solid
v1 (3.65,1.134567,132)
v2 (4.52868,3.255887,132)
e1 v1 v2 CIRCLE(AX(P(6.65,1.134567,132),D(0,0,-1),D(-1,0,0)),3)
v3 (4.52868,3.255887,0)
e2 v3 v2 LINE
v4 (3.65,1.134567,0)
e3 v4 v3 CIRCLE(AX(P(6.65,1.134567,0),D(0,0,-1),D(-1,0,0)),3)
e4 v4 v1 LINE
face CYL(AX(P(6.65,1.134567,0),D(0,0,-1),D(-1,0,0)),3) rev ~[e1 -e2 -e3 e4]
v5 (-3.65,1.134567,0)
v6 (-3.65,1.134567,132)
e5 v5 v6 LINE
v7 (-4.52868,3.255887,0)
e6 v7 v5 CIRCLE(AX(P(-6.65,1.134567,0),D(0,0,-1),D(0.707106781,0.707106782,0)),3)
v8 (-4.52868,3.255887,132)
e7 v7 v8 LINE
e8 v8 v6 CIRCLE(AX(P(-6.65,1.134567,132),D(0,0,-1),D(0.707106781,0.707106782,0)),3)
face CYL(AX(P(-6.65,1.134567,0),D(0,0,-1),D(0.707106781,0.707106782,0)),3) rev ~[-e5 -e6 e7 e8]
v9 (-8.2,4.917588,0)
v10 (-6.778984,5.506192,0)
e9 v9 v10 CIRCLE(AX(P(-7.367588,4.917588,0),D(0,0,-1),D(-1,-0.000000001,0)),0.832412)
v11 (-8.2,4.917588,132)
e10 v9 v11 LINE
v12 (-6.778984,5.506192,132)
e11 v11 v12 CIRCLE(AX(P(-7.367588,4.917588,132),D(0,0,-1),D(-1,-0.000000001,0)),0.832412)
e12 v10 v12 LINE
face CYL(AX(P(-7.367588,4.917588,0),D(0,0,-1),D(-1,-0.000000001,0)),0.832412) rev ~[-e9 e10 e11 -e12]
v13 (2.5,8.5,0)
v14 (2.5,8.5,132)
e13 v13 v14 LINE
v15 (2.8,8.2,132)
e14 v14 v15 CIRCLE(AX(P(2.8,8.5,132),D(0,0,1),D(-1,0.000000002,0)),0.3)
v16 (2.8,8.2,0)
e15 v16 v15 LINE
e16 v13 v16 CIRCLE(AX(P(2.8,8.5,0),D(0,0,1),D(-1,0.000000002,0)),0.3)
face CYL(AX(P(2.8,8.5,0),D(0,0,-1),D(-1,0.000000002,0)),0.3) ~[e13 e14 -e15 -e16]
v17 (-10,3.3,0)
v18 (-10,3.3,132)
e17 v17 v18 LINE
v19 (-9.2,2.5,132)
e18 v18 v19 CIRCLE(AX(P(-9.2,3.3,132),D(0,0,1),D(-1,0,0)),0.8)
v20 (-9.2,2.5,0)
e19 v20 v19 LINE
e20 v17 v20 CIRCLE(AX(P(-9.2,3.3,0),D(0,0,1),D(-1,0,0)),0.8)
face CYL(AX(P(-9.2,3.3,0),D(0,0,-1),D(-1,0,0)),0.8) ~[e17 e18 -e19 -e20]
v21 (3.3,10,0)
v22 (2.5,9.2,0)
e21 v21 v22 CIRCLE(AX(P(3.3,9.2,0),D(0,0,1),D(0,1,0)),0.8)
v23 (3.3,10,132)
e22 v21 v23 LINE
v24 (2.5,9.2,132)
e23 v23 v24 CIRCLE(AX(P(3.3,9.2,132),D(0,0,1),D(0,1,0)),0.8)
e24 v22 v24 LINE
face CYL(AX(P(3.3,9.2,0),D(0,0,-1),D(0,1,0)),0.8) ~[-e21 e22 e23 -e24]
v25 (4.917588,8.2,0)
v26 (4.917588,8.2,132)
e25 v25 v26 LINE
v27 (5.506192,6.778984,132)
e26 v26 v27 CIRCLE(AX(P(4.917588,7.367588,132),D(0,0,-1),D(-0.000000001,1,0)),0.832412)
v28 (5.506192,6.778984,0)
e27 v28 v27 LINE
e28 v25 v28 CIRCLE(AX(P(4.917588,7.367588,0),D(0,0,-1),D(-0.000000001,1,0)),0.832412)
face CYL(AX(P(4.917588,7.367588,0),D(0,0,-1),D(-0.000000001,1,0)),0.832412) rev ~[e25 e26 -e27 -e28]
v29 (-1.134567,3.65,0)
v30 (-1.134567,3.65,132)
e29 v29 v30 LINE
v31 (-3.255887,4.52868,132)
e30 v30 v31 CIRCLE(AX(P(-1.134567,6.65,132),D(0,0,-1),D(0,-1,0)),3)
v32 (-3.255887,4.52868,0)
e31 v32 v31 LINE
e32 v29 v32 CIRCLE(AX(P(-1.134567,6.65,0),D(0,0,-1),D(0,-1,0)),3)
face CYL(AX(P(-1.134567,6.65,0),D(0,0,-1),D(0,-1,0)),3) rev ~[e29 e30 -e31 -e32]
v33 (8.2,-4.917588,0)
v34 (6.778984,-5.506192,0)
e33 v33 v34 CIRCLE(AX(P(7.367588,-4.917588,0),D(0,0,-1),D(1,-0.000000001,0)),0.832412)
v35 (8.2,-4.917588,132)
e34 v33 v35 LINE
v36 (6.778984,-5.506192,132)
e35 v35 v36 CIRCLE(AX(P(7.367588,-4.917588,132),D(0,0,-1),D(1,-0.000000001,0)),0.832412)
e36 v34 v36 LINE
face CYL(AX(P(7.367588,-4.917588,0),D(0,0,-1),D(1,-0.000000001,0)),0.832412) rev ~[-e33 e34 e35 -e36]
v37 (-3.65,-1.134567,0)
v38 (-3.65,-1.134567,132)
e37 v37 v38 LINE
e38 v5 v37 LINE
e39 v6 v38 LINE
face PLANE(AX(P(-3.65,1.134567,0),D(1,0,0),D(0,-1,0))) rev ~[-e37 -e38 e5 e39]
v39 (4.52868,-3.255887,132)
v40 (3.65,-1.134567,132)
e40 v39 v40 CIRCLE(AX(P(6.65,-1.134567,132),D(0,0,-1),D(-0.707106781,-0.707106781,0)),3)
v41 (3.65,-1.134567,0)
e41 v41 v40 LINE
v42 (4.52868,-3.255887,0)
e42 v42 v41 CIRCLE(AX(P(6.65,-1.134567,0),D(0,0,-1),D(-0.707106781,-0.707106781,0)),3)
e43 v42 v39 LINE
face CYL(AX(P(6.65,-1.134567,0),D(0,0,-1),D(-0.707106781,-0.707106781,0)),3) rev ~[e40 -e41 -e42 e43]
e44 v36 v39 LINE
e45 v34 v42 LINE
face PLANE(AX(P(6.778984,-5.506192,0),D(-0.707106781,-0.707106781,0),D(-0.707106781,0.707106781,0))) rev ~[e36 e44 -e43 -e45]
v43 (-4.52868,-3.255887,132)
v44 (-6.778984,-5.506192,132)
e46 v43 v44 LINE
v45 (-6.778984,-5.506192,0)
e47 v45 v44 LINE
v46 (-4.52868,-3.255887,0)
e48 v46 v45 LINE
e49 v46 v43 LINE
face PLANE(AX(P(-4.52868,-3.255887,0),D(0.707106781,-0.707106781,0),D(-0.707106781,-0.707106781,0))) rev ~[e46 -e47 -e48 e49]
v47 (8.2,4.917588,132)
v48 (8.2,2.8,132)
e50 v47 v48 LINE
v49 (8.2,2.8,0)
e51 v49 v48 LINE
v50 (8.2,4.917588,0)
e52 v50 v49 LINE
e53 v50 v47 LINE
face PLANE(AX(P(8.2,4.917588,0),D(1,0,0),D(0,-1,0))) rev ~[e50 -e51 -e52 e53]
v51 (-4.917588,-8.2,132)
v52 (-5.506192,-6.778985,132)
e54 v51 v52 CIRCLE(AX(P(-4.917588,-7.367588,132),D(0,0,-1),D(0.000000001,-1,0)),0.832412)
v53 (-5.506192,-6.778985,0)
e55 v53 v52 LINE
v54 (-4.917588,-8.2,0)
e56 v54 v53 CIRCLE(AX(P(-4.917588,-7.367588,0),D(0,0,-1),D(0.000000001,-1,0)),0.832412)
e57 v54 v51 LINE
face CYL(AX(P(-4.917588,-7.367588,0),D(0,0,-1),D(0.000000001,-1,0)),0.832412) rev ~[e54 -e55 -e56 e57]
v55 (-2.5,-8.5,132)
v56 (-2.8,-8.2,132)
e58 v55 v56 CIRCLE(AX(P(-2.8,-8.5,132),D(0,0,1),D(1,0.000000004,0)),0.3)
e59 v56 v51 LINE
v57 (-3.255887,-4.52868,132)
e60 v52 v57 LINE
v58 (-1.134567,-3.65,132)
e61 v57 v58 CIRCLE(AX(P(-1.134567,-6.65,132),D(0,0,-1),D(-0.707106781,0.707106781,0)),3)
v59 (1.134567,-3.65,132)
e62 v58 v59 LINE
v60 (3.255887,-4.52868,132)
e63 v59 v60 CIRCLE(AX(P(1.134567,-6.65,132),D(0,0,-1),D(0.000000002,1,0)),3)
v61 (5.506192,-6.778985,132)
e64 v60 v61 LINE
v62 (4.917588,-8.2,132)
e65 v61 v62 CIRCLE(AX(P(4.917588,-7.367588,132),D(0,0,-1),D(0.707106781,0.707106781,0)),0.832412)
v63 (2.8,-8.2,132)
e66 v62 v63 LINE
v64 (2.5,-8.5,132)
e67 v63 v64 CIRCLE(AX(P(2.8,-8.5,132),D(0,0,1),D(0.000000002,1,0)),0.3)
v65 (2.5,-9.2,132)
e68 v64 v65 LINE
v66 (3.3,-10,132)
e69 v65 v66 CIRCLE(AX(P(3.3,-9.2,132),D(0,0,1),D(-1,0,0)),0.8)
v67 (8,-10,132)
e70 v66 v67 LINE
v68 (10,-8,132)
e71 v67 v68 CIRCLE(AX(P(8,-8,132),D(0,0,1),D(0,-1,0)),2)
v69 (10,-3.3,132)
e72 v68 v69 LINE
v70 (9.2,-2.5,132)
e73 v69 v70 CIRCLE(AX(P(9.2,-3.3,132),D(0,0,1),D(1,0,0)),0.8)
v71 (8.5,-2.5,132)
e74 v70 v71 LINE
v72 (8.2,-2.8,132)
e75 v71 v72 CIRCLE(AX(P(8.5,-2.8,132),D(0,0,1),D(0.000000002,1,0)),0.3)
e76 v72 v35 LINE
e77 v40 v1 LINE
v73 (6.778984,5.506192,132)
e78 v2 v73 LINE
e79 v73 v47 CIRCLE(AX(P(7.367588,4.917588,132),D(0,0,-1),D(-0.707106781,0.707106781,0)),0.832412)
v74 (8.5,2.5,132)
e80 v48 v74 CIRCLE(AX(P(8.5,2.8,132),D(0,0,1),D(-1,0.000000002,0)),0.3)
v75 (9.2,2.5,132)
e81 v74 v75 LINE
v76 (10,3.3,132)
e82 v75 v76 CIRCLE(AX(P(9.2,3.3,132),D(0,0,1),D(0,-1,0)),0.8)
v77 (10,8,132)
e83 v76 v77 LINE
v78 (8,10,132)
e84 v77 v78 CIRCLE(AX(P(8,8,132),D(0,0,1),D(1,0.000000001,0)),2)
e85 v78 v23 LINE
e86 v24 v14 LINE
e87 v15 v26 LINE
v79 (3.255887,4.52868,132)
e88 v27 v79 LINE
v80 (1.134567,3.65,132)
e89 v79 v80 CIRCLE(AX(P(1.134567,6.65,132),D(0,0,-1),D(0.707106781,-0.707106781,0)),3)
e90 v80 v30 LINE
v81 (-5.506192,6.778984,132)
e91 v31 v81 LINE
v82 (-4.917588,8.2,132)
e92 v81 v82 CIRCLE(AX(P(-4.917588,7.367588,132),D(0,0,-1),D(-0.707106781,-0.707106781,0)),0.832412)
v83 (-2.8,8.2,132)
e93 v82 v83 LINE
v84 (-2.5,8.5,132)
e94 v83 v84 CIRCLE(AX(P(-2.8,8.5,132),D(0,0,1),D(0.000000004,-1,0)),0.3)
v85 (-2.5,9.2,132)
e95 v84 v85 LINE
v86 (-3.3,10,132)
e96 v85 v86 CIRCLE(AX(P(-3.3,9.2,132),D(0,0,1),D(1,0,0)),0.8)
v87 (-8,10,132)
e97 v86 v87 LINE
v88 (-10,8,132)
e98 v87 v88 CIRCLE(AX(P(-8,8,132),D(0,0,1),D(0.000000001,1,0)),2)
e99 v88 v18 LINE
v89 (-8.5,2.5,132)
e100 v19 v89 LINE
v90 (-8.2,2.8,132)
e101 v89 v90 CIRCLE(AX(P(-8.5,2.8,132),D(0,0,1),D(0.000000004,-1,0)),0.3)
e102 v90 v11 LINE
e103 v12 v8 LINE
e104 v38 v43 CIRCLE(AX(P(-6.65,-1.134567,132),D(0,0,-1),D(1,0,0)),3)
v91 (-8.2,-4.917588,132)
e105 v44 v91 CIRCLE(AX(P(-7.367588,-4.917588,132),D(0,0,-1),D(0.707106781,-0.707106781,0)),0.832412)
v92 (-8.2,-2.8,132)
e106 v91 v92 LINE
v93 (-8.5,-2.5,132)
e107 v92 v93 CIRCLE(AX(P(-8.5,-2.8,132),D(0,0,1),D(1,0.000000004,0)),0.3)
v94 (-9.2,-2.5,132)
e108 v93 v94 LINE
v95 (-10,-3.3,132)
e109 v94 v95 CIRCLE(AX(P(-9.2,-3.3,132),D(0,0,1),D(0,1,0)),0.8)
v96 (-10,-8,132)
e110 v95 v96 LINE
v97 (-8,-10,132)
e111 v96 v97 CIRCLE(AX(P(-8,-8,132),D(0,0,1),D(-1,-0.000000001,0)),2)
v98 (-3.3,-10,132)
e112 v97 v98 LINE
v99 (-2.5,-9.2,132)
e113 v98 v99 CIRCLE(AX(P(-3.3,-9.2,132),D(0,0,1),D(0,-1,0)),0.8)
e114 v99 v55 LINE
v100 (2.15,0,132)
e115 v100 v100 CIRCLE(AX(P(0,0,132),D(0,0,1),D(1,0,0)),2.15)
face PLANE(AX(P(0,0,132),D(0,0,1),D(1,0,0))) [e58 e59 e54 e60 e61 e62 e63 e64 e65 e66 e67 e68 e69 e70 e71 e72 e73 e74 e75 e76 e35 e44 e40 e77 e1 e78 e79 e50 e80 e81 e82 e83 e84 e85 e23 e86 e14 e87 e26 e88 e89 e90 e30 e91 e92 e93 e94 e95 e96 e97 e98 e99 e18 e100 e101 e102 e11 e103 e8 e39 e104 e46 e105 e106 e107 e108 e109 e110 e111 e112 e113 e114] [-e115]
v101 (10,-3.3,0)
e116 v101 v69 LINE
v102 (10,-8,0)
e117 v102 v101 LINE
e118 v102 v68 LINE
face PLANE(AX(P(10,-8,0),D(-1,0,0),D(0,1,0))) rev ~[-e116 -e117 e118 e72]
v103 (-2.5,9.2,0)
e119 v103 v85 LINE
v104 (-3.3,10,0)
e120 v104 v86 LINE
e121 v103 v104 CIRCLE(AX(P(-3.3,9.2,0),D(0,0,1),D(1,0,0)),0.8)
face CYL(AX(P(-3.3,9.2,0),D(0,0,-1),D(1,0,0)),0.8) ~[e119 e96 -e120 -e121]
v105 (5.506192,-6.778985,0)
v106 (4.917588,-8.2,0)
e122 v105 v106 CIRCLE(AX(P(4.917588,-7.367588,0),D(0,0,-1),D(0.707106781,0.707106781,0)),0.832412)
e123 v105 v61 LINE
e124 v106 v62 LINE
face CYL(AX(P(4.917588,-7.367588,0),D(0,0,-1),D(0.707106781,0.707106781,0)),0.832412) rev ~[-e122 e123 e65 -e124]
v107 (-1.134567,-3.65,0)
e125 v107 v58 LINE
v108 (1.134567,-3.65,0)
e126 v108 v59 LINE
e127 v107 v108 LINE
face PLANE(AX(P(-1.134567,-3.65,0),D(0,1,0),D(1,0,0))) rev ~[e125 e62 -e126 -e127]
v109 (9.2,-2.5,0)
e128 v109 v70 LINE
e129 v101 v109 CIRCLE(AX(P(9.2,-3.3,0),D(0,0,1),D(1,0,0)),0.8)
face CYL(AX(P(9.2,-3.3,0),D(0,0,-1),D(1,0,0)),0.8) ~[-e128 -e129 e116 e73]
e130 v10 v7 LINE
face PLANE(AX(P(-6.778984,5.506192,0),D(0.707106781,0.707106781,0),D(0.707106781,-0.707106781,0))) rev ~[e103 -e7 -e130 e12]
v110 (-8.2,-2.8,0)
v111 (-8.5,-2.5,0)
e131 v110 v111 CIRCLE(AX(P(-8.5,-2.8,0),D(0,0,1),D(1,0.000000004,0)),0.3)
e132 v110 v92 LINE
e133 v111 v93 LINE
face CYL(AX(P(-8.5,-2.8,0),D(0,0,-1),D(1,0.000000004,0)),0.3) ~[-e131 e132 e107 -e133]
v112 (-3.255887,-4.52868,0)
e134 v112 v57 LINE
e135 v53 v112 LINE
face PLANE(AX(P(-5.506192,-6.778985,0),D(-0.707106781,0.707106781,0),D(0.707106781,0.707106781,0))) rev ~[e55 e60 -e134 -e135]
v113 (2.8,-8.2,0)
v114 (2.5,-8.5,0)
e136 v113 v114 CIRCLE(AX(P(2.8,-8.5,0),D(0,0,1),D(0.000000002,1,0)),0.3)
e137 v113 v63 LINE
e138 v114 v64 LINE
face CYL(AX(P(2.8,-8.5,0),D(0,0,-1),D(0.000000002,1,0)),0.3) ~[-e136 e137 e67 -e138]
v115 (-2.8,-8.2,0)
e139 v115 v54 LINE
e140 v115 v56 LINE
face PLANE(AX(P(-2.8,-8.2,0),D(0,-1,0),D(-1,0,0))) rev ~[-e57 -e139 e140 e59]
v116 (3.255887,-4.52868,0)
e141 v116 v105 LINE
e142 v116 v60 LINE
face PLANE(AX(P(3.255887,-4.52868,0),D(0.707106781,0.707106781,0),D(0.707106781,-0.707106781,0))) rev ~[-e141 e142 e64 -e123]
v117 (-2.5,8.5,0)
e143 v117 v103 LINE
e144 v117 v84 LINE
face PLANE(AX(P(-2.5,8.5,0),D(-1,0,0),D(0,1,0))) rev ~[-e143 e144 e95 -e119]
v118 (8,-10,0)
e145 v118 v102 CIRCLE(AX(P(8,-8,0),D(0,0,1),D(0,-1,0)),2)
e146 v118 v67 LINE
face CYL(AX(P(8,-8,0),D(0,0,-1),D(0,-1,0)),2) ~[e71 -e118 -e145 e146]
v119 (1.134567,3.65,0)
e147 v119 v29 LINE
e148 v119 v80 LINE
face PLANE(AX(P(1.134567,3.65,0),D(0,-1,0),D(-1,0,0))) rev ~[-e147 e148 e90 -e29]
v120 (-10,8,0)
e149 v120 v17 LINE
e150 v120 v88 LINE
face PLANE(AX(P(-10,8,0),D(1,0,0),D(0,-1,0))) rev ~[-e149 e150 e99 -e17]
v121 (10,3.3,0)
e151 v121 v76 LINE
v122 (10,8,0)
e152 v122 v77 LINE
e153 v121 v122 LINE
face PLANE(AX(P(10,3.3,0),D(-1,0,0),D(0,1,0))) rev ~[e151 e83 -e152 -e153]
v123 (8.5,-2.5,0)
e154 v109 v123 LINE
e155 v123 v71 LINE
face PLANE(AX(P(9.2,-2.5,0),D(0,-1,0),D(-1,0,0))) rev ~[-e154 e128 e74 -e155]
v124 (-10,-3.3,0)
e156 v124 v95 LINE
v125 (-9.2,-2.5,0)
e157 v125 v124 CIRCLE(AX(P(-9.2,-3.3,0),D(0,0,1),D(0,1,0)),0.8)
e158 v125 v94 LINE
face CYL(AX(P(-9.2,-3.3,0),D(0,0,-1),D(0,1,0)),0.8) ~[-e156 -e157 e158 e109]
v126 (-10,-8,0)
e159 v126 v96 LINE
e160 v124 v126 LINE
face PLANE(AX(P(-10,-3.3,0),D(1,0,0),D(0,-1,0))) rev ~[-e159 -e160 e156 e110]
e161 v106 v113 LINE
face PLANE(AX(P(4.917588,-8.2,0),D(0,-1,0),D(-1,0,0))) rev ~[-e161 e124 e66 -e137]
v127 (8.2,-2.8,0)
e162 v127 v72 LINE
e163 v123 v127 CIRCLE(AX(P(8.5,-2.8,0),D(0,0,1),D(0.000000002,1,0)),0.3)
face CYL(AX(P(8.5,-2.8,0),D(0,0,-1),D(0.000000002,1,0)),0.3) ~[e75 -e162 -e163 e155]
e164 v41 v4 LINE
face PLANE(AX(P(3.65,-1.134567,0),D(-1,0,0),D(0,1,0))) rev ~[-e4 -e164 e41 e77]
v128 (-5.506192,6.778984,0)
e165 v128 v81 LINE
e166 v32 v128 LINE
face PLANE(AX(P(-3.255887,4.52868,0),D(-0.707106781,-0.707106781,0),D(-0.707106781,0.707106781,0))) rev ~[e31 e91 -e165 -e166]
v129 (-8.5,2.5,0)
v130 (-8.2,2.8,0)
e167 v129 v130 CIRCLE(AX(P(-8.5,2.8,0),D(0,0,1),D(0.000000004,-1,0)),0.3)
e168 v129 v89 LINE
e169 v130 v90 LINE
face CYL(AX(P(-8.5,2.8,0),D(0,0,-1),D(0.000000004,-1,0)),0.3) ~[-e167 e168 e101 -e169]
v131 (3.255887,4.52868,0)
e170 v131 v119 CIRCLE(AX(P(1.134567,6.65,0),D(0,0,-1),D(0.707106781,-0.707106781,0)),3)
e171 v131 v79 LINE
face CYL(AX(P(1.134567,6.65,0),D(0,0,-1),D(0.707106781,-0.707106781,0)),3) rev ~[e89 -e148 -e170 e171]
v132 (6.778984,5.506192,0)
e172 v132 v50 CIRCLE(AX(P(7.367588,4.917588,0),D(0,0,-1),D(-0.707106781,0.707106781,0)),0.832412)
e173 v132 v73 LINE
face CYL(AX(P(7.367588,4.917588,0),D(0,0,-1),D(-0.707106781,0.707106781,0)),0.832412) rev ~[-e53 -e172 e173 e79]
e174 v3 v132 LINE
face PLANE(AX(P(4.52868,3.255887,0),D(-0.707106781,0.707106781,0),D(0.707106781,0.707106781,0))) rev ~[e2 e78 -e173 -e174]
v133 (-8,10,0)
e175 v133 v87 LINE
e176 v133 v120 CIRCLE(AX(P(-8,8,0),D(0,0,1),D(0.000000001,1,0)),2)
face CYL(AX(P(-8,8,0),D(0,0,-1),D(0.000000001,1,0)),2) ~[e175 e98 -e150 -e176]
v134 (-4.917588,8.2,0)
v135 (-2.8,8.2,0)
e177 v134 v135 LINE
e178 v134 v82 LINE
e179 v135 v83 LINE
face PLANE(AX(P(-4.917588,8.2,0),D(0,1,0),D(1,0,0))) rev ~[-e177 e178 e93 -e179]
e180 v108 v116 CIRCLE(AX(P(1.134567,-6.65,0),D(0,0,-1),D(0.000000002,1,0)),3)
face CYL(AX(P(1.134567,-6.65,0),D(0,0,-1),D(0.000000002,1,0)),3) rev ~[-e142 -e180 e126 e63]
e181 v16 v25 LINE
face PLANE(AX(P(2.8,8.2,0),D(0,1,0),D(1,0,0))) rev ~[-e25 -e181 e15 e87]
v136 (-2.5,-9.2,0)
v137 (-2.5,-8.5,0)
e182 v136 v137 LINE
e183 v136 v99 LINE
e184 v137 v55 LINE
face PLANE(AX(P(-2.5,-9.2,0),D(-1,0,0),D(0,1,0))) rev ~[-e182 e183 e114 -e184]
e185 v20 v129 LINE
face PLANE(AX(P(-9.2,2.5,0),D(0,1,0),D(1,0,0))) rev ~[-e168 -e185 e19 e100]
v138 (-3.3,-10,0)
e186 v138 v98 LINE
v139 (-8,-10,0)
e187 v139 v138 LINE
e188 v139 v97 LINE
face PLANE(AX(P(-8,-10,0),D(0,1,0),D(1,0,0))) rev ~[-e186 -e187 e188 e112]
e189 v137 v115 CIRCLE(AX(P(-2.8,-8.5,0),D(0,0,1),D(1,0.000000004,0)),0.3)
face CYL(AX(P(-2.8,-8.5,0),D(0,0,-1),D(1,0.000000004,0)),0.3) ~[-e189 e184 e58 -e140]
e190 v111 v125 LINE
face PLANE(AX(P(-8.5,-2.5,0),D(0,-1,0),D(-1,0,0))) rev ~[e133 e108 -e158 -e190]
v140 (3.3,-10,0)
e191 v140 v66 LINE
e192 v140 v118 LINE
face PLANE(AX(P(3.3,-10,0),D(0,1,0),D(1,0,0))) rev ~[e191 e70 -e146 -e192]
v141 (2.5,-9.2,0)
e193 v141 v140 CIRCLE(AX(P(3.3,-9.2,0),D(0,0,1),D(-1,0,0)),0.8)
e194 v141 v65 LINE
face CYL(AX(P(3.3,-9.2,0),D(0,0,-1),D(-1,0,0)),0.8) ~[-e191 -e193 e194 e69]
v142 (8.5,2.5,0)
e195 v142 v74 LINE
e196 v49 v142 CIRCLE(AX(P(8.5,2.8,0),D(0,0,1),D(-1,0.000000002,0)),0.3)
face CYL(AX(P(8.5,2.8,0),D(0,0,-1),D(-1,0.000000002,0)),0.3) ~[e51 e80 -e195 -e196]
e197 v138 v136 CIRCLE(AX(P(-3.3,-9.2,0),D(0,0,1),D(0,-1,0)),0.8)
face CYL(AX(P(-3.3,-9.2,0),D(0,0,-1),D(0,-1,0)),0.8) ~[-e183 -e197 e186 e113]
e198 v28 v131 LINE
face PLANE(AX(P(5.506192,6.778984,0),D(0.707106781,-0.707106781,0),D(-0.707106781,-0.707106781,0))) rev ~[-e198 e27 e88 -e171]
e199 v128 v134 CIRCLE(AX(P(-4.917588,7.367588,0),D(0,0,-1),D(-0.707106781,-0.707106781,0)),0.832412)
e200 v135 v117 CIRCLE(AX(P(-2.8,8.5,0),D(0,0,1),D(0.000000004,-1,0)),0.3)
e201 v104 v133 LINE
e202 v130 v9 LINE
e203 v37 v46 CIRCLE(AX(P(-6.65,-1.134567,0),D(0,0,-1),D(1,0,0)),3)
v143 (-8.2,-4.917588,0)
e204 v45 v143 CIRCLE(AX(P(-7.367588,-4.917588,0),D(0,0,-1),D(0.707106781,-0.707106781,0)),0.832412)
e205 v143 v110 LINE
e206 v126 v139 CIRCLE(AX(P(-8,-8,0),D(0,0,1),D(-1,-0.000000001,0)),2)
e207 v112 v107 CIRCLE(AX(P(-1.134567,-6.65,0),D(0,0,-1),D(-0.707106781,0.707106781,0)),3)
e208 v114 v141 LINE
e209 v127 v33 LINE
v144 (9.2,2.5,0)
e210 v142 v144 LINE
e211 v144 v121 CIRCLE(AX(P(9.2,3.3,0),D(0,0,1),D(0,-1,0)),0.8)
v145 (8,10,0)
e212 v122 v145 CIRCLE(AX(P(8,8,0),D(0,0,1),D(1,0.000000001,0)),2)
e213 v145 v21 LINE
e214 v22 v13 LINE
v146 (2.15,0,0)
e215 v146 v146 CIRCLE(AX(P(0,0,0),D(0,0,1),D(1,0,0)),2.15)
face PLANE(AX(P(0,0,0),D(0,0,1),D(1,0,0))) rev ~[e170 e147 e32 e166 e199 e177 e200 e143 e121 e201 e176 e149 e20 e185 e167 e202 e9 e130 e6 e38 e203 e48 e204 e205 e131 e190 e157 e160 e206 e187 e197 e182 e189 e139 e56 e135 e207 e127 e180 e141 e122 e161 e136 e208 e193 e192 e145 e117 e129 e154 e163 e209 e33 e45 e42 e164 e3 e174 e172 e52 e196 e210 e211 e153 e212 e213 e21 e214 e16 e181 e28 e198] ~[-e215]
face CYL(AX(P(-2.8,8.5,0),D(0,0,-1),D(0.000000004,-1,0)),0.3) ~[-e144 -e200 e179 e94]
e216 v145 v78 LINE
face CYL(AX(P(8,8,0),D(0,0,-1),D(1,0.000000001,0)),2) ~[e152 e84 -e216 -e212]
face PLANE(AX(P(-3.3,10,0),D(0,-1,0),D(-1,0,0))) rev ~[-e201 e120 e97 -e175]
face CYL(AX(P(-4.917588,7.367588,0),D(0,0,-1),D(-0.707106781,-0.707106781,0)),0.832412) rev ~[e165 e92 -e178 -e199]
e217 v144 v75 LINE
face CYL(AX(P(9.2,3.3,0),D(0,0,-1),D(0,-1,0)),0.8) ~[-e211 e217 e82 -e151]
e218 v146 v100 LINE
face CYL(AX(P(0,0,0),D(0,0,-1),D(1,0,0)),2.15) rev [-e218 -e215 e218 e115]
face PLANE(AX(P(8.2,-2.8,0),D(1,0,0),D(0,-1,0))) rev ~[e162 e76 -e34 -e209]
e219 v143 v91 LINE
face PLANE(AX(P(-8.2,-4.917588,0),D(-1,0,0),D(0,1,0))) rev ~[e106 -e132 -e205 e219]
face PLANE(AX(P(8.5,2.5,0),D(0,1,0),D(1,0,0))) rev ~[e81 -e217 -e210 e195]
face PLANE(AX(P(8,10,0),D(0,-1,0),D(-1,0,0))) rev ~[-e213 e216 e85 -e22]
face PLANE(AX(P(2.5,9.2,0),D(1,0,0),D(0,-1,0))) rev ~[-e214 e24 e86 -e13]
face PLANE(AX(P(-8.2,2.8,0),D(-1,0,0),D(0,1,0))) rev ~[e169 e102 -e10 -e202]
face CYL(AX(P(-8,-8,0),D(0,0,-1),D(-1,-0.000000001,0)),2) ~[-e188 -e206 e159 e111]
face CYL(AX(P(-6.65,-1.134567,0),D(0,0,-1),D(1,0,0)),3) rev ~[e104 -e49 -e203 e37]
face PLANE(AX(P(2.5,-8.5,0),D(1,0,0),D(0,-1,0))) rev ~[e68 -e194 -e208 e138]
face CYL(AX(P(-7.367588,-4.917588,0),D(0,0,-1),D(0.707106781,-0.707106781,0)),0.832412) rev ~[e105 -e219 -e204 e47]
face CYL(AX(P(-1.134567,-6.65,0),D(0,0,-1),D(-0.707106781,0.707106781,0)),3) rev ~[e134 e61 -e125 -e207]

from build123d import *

# Parameters (mm, degrees)
BOSS_EXTRU_1_DEPTH = 132


with BuildPart() as part:
    # Esquisse1 → Boss.-Extru.1 (new body)
    with BuildSketch(Plane.XY):
        with BuildLine():
            Line((-3.255887446, 4.528679645), (-5.506192286, 6.778984485))
            ThreePointArc((-5.506192286, 6.778984485), (-5.686636441, 7.686138511), (-4.917588391, 8.199999989))
            Line((-4.917588391, 8.199999989), (-2.799999991, 8.199999989))
            ThreePointArc((-2.799999991, 8.199999989), (-2.587867957, 8.287867955), (-2.499999991, 8.499999989))
            Line((-2.499999991, 8.499999989), (-2.499999991, 9.199999989))
            ThreePointArc((-2.499999991, 9.199999989), (-2.734314566, 9.765685414), (-3.299999991, 9.999999989))
            Line((-3.299999991, 9.999999989), (-7.999999991, 9.999999989))
            ThreePointArc((-7.999999991, 9.999999989), (-9.414213554, 9.414213552), (-9.999999991, 7.999999989))
            Line((-9.999999991, 7.999999989), (-9.999999991, 3.299999989))
            ThreePointArc((-9.999999991, 3.299999989), (-9.765685416, 2.734314564), (-9.199999991, 2.499999989))
            Line((-9.199999991, 2.499999989), (-8.499999991, 2.499999989))
            ThreePointArc((-8.499999991, 2.499999989), (-8.287867957, 2.587867955), (-8.199999991, 2.799999989))
            Line((-8.199999991, 2.799999989), (-8.199999991, 4.917588389))
            ThreePointArc((-8.199999991, 4.917588389), (-7.686138517, 5.686636433), (-6.778984497, 5.506192279))
            Line((-6.778984497, 5.506192279), (-4.528679657, 3.255887439))
            ThreePointArc((-4.528679657, 3.255887439), (-3.878361403, 2.282617393), (-3.650000001, 1.134567096))
            Line((-3.650000001, 1.134567096), (-3.650000001, -1.134567114))
            ThreePointArc((-3.650000001, -1.134567114), (-3.878361403, -2.282617409), (-4.528679656, -3.255887454))
            Line((-4.528679656, -3.255887454), (-6.778984496, -5.506192294))
            ThreePointArc((-6.778984496, -5.506192294), (-7.686138522, -5.686636449), (-8.2, -4.9175884))
            Line((-8.2, -4.9175884), (-8.2, -2.8))
            ThreePointArc((-8.2, -2.8), (-8.287867966, -2.587867966), (-8.5, -2.5))
            Line((-8.5, -2.5), (-9.2, -2.5))
            ThreePointArc((-9.2, -2.5), (-9.765685425, -2.734314575), (-10, -3.3))
            Line((-10, -3.3), (-10, -8))
            ThreePointArc((-10, -8), (-9.414213562, -9.414213562), (-8, -10))
            Line((-8, -10), (-3.3, -10))
            ThreePointArc((-3.3, -10), (-2.734314575, -9.765685425), (-2.5, -9.2))
            Line((-2.5, -9.2), (-2.5, -8.5))
            ThreePointArc((-2.5, -8.5), (-2.587867966, -8.287867966), (-2.8, -8.2))
            Line((-2.8, -8.2), (-4.9175884, -8.2))
            ThreePointArc((-4.9175884, -8.2), (-5.686636444, -7.686138526), (-5.50619229, -6.778984506))
            Line((-5.50619229, -6.778984506), (-3.25588745, -4.528679666))
            ThreePointArc((-3.25588745, -4.528679666), (-2.282617404, -3.878361412), (-1.134567106, -3.650000009))
            Line((-1.134567106, -3.650000009), (1.134567104, -3.650000009))
            ThreePointArc((1.134567104, -3.650000009), (2.282617399, -3.878361412), (3.255887444, -4.528679664))
            Line((3.255887444, -4.528679664), (5.506192284, -6.778984504))
            ThreePointArc((5.506192284, -6.778984504), (5.686636439, -7.686138531), (4.917588389, -8.200000009))
            Line((4.917588389, -8.200000009), (2.799999989, -8.200000009))
            ThreePointArc((2.799999989, -8.200000009), (2.587867955, -8.287867974), (2.499999989, -8.500000009))
            Line((2.499999989, -8.500000009), (2.499999989, -9.200000009))
            ThreePointArc((2.499999989, -9.200000009), (2.734314564, -9.765685434), (3.299999989, -10.000000009))
            Line((3.299999989, -10.000000009), (7.999999989, -10.000000009))
            ThreePointArc((7.999999989, -10.000000009), (9.414213552, -9.414213571), (9.999999989, -8.000000009))
            Line((9.999999989, -8.000000009), (9.999999989, -3.300000009))
            ThreePointArc((9.999999989, -3.300000009), (9.765685414, -2.734314584), (9.199999989, -2.500000009))
            Line((9.199999989, -2.500000009), (8.499999989, -2.500000009))
            ThreePointArc((8.499999989, -2.500000009), (8.287867955, -2.587867974), (8.199999989, -2.800000009))
            Line((8.199999989, -2.800000009), (8.199999989, -4.917588409))
            ThreePointArc((8.199999989, -4.917588409), (7.686138515, -5.686636452), (6.778984495, -5.506192299))
            Line((6.778984495, -5.506192299), (4.528679655, -3.255887459))
            ThreePointArc((4.528679655, -3.255887459), (3.878361401, -2.282617412), (3.649999999, -1.134567115))
            Line((3.649999999, -1.134567115), (3.649999999, 1.134567095))
            ThreePointArc((3.649999999, 1.134567095), (3.878361401, 2.28261739), (4.528679654, 3.255887435))
            Line((4.528679654, 3.255887435), (6.778984494, 5.506192275))
            ThreePointArc((6.778984494, 5.506192275), (7.68613852, 5.68663643), (8.199999998, 4.917588381))
            Line((8.199999998, 4.917588381), (8.199999998, 2.799999981))
            ThreePointArc((8.199999998, 2.799999981), (8.287867964, 2.587867946), (8.499999998, 2.499999981))
            Line((8.499999998, 2.499999981), (9.199999998, 2.499999981))
            ThreePointArc((9.199999998, 2.499999981), (9.765685423, 2.734314556), (9.999999998, 3.299999981))
            Line((9.999999998, 3.299999981), (9.999999998, 7.999999981))
            ThreePointArc((9.999999998, 7.999999981), (9.41421356, 9.414213543), (7.999999998, 9.999999981))
            Line((7.999999998, 9.999999981), (3.299999998, 9.999999981))
            ThreePointArc((3.299999998, 9.999999981), (2.734314573, 9.765685406), (2.499999998, 9.199999981))
            Line((2.499999998, 9.199999981), (2.499999998, 8.499999981))
            ThreePointArc((2.499999998, 8.499999981), (2.587867964, 8.287867946), (2.799999998, 8.199999981))
            Line((2.799999998, 8.199999981), (4.917588398, 8.199999981))
            ThreePointArc((4.917588398, 8.199999981), (5.686636442, 7.686138507), (5.506192288, 6.778984487))
            Line((5.506192288, 6.778984487), (3.255887448, 4.528679647))
            ThreePointArc((3.255887448, 4.528679647), (2.282617402, 3.878361393), (1.134567104, 3.64999999))
            Line((1.134567104, 3.64999999), (-1.134567106, 3.64999999))
            ThreePointArc((-1.134567106, 3.64999999), (-2.282617401, 3.878361392), (-3.255887446, 4.528679645))
        make_face()
        with BuildLine():
            ThreePointArc((-2.15, 0), (0, -2.15), (2.15, 0))
            ThreePointArc((2.15, 0), (0, 2.15), (-2.15, 0))
        make_face(mode=Mode.SUBTRACT)
    extrude(amount=BOSS_EXTRU_1_DEPTH)


solid = part.part
